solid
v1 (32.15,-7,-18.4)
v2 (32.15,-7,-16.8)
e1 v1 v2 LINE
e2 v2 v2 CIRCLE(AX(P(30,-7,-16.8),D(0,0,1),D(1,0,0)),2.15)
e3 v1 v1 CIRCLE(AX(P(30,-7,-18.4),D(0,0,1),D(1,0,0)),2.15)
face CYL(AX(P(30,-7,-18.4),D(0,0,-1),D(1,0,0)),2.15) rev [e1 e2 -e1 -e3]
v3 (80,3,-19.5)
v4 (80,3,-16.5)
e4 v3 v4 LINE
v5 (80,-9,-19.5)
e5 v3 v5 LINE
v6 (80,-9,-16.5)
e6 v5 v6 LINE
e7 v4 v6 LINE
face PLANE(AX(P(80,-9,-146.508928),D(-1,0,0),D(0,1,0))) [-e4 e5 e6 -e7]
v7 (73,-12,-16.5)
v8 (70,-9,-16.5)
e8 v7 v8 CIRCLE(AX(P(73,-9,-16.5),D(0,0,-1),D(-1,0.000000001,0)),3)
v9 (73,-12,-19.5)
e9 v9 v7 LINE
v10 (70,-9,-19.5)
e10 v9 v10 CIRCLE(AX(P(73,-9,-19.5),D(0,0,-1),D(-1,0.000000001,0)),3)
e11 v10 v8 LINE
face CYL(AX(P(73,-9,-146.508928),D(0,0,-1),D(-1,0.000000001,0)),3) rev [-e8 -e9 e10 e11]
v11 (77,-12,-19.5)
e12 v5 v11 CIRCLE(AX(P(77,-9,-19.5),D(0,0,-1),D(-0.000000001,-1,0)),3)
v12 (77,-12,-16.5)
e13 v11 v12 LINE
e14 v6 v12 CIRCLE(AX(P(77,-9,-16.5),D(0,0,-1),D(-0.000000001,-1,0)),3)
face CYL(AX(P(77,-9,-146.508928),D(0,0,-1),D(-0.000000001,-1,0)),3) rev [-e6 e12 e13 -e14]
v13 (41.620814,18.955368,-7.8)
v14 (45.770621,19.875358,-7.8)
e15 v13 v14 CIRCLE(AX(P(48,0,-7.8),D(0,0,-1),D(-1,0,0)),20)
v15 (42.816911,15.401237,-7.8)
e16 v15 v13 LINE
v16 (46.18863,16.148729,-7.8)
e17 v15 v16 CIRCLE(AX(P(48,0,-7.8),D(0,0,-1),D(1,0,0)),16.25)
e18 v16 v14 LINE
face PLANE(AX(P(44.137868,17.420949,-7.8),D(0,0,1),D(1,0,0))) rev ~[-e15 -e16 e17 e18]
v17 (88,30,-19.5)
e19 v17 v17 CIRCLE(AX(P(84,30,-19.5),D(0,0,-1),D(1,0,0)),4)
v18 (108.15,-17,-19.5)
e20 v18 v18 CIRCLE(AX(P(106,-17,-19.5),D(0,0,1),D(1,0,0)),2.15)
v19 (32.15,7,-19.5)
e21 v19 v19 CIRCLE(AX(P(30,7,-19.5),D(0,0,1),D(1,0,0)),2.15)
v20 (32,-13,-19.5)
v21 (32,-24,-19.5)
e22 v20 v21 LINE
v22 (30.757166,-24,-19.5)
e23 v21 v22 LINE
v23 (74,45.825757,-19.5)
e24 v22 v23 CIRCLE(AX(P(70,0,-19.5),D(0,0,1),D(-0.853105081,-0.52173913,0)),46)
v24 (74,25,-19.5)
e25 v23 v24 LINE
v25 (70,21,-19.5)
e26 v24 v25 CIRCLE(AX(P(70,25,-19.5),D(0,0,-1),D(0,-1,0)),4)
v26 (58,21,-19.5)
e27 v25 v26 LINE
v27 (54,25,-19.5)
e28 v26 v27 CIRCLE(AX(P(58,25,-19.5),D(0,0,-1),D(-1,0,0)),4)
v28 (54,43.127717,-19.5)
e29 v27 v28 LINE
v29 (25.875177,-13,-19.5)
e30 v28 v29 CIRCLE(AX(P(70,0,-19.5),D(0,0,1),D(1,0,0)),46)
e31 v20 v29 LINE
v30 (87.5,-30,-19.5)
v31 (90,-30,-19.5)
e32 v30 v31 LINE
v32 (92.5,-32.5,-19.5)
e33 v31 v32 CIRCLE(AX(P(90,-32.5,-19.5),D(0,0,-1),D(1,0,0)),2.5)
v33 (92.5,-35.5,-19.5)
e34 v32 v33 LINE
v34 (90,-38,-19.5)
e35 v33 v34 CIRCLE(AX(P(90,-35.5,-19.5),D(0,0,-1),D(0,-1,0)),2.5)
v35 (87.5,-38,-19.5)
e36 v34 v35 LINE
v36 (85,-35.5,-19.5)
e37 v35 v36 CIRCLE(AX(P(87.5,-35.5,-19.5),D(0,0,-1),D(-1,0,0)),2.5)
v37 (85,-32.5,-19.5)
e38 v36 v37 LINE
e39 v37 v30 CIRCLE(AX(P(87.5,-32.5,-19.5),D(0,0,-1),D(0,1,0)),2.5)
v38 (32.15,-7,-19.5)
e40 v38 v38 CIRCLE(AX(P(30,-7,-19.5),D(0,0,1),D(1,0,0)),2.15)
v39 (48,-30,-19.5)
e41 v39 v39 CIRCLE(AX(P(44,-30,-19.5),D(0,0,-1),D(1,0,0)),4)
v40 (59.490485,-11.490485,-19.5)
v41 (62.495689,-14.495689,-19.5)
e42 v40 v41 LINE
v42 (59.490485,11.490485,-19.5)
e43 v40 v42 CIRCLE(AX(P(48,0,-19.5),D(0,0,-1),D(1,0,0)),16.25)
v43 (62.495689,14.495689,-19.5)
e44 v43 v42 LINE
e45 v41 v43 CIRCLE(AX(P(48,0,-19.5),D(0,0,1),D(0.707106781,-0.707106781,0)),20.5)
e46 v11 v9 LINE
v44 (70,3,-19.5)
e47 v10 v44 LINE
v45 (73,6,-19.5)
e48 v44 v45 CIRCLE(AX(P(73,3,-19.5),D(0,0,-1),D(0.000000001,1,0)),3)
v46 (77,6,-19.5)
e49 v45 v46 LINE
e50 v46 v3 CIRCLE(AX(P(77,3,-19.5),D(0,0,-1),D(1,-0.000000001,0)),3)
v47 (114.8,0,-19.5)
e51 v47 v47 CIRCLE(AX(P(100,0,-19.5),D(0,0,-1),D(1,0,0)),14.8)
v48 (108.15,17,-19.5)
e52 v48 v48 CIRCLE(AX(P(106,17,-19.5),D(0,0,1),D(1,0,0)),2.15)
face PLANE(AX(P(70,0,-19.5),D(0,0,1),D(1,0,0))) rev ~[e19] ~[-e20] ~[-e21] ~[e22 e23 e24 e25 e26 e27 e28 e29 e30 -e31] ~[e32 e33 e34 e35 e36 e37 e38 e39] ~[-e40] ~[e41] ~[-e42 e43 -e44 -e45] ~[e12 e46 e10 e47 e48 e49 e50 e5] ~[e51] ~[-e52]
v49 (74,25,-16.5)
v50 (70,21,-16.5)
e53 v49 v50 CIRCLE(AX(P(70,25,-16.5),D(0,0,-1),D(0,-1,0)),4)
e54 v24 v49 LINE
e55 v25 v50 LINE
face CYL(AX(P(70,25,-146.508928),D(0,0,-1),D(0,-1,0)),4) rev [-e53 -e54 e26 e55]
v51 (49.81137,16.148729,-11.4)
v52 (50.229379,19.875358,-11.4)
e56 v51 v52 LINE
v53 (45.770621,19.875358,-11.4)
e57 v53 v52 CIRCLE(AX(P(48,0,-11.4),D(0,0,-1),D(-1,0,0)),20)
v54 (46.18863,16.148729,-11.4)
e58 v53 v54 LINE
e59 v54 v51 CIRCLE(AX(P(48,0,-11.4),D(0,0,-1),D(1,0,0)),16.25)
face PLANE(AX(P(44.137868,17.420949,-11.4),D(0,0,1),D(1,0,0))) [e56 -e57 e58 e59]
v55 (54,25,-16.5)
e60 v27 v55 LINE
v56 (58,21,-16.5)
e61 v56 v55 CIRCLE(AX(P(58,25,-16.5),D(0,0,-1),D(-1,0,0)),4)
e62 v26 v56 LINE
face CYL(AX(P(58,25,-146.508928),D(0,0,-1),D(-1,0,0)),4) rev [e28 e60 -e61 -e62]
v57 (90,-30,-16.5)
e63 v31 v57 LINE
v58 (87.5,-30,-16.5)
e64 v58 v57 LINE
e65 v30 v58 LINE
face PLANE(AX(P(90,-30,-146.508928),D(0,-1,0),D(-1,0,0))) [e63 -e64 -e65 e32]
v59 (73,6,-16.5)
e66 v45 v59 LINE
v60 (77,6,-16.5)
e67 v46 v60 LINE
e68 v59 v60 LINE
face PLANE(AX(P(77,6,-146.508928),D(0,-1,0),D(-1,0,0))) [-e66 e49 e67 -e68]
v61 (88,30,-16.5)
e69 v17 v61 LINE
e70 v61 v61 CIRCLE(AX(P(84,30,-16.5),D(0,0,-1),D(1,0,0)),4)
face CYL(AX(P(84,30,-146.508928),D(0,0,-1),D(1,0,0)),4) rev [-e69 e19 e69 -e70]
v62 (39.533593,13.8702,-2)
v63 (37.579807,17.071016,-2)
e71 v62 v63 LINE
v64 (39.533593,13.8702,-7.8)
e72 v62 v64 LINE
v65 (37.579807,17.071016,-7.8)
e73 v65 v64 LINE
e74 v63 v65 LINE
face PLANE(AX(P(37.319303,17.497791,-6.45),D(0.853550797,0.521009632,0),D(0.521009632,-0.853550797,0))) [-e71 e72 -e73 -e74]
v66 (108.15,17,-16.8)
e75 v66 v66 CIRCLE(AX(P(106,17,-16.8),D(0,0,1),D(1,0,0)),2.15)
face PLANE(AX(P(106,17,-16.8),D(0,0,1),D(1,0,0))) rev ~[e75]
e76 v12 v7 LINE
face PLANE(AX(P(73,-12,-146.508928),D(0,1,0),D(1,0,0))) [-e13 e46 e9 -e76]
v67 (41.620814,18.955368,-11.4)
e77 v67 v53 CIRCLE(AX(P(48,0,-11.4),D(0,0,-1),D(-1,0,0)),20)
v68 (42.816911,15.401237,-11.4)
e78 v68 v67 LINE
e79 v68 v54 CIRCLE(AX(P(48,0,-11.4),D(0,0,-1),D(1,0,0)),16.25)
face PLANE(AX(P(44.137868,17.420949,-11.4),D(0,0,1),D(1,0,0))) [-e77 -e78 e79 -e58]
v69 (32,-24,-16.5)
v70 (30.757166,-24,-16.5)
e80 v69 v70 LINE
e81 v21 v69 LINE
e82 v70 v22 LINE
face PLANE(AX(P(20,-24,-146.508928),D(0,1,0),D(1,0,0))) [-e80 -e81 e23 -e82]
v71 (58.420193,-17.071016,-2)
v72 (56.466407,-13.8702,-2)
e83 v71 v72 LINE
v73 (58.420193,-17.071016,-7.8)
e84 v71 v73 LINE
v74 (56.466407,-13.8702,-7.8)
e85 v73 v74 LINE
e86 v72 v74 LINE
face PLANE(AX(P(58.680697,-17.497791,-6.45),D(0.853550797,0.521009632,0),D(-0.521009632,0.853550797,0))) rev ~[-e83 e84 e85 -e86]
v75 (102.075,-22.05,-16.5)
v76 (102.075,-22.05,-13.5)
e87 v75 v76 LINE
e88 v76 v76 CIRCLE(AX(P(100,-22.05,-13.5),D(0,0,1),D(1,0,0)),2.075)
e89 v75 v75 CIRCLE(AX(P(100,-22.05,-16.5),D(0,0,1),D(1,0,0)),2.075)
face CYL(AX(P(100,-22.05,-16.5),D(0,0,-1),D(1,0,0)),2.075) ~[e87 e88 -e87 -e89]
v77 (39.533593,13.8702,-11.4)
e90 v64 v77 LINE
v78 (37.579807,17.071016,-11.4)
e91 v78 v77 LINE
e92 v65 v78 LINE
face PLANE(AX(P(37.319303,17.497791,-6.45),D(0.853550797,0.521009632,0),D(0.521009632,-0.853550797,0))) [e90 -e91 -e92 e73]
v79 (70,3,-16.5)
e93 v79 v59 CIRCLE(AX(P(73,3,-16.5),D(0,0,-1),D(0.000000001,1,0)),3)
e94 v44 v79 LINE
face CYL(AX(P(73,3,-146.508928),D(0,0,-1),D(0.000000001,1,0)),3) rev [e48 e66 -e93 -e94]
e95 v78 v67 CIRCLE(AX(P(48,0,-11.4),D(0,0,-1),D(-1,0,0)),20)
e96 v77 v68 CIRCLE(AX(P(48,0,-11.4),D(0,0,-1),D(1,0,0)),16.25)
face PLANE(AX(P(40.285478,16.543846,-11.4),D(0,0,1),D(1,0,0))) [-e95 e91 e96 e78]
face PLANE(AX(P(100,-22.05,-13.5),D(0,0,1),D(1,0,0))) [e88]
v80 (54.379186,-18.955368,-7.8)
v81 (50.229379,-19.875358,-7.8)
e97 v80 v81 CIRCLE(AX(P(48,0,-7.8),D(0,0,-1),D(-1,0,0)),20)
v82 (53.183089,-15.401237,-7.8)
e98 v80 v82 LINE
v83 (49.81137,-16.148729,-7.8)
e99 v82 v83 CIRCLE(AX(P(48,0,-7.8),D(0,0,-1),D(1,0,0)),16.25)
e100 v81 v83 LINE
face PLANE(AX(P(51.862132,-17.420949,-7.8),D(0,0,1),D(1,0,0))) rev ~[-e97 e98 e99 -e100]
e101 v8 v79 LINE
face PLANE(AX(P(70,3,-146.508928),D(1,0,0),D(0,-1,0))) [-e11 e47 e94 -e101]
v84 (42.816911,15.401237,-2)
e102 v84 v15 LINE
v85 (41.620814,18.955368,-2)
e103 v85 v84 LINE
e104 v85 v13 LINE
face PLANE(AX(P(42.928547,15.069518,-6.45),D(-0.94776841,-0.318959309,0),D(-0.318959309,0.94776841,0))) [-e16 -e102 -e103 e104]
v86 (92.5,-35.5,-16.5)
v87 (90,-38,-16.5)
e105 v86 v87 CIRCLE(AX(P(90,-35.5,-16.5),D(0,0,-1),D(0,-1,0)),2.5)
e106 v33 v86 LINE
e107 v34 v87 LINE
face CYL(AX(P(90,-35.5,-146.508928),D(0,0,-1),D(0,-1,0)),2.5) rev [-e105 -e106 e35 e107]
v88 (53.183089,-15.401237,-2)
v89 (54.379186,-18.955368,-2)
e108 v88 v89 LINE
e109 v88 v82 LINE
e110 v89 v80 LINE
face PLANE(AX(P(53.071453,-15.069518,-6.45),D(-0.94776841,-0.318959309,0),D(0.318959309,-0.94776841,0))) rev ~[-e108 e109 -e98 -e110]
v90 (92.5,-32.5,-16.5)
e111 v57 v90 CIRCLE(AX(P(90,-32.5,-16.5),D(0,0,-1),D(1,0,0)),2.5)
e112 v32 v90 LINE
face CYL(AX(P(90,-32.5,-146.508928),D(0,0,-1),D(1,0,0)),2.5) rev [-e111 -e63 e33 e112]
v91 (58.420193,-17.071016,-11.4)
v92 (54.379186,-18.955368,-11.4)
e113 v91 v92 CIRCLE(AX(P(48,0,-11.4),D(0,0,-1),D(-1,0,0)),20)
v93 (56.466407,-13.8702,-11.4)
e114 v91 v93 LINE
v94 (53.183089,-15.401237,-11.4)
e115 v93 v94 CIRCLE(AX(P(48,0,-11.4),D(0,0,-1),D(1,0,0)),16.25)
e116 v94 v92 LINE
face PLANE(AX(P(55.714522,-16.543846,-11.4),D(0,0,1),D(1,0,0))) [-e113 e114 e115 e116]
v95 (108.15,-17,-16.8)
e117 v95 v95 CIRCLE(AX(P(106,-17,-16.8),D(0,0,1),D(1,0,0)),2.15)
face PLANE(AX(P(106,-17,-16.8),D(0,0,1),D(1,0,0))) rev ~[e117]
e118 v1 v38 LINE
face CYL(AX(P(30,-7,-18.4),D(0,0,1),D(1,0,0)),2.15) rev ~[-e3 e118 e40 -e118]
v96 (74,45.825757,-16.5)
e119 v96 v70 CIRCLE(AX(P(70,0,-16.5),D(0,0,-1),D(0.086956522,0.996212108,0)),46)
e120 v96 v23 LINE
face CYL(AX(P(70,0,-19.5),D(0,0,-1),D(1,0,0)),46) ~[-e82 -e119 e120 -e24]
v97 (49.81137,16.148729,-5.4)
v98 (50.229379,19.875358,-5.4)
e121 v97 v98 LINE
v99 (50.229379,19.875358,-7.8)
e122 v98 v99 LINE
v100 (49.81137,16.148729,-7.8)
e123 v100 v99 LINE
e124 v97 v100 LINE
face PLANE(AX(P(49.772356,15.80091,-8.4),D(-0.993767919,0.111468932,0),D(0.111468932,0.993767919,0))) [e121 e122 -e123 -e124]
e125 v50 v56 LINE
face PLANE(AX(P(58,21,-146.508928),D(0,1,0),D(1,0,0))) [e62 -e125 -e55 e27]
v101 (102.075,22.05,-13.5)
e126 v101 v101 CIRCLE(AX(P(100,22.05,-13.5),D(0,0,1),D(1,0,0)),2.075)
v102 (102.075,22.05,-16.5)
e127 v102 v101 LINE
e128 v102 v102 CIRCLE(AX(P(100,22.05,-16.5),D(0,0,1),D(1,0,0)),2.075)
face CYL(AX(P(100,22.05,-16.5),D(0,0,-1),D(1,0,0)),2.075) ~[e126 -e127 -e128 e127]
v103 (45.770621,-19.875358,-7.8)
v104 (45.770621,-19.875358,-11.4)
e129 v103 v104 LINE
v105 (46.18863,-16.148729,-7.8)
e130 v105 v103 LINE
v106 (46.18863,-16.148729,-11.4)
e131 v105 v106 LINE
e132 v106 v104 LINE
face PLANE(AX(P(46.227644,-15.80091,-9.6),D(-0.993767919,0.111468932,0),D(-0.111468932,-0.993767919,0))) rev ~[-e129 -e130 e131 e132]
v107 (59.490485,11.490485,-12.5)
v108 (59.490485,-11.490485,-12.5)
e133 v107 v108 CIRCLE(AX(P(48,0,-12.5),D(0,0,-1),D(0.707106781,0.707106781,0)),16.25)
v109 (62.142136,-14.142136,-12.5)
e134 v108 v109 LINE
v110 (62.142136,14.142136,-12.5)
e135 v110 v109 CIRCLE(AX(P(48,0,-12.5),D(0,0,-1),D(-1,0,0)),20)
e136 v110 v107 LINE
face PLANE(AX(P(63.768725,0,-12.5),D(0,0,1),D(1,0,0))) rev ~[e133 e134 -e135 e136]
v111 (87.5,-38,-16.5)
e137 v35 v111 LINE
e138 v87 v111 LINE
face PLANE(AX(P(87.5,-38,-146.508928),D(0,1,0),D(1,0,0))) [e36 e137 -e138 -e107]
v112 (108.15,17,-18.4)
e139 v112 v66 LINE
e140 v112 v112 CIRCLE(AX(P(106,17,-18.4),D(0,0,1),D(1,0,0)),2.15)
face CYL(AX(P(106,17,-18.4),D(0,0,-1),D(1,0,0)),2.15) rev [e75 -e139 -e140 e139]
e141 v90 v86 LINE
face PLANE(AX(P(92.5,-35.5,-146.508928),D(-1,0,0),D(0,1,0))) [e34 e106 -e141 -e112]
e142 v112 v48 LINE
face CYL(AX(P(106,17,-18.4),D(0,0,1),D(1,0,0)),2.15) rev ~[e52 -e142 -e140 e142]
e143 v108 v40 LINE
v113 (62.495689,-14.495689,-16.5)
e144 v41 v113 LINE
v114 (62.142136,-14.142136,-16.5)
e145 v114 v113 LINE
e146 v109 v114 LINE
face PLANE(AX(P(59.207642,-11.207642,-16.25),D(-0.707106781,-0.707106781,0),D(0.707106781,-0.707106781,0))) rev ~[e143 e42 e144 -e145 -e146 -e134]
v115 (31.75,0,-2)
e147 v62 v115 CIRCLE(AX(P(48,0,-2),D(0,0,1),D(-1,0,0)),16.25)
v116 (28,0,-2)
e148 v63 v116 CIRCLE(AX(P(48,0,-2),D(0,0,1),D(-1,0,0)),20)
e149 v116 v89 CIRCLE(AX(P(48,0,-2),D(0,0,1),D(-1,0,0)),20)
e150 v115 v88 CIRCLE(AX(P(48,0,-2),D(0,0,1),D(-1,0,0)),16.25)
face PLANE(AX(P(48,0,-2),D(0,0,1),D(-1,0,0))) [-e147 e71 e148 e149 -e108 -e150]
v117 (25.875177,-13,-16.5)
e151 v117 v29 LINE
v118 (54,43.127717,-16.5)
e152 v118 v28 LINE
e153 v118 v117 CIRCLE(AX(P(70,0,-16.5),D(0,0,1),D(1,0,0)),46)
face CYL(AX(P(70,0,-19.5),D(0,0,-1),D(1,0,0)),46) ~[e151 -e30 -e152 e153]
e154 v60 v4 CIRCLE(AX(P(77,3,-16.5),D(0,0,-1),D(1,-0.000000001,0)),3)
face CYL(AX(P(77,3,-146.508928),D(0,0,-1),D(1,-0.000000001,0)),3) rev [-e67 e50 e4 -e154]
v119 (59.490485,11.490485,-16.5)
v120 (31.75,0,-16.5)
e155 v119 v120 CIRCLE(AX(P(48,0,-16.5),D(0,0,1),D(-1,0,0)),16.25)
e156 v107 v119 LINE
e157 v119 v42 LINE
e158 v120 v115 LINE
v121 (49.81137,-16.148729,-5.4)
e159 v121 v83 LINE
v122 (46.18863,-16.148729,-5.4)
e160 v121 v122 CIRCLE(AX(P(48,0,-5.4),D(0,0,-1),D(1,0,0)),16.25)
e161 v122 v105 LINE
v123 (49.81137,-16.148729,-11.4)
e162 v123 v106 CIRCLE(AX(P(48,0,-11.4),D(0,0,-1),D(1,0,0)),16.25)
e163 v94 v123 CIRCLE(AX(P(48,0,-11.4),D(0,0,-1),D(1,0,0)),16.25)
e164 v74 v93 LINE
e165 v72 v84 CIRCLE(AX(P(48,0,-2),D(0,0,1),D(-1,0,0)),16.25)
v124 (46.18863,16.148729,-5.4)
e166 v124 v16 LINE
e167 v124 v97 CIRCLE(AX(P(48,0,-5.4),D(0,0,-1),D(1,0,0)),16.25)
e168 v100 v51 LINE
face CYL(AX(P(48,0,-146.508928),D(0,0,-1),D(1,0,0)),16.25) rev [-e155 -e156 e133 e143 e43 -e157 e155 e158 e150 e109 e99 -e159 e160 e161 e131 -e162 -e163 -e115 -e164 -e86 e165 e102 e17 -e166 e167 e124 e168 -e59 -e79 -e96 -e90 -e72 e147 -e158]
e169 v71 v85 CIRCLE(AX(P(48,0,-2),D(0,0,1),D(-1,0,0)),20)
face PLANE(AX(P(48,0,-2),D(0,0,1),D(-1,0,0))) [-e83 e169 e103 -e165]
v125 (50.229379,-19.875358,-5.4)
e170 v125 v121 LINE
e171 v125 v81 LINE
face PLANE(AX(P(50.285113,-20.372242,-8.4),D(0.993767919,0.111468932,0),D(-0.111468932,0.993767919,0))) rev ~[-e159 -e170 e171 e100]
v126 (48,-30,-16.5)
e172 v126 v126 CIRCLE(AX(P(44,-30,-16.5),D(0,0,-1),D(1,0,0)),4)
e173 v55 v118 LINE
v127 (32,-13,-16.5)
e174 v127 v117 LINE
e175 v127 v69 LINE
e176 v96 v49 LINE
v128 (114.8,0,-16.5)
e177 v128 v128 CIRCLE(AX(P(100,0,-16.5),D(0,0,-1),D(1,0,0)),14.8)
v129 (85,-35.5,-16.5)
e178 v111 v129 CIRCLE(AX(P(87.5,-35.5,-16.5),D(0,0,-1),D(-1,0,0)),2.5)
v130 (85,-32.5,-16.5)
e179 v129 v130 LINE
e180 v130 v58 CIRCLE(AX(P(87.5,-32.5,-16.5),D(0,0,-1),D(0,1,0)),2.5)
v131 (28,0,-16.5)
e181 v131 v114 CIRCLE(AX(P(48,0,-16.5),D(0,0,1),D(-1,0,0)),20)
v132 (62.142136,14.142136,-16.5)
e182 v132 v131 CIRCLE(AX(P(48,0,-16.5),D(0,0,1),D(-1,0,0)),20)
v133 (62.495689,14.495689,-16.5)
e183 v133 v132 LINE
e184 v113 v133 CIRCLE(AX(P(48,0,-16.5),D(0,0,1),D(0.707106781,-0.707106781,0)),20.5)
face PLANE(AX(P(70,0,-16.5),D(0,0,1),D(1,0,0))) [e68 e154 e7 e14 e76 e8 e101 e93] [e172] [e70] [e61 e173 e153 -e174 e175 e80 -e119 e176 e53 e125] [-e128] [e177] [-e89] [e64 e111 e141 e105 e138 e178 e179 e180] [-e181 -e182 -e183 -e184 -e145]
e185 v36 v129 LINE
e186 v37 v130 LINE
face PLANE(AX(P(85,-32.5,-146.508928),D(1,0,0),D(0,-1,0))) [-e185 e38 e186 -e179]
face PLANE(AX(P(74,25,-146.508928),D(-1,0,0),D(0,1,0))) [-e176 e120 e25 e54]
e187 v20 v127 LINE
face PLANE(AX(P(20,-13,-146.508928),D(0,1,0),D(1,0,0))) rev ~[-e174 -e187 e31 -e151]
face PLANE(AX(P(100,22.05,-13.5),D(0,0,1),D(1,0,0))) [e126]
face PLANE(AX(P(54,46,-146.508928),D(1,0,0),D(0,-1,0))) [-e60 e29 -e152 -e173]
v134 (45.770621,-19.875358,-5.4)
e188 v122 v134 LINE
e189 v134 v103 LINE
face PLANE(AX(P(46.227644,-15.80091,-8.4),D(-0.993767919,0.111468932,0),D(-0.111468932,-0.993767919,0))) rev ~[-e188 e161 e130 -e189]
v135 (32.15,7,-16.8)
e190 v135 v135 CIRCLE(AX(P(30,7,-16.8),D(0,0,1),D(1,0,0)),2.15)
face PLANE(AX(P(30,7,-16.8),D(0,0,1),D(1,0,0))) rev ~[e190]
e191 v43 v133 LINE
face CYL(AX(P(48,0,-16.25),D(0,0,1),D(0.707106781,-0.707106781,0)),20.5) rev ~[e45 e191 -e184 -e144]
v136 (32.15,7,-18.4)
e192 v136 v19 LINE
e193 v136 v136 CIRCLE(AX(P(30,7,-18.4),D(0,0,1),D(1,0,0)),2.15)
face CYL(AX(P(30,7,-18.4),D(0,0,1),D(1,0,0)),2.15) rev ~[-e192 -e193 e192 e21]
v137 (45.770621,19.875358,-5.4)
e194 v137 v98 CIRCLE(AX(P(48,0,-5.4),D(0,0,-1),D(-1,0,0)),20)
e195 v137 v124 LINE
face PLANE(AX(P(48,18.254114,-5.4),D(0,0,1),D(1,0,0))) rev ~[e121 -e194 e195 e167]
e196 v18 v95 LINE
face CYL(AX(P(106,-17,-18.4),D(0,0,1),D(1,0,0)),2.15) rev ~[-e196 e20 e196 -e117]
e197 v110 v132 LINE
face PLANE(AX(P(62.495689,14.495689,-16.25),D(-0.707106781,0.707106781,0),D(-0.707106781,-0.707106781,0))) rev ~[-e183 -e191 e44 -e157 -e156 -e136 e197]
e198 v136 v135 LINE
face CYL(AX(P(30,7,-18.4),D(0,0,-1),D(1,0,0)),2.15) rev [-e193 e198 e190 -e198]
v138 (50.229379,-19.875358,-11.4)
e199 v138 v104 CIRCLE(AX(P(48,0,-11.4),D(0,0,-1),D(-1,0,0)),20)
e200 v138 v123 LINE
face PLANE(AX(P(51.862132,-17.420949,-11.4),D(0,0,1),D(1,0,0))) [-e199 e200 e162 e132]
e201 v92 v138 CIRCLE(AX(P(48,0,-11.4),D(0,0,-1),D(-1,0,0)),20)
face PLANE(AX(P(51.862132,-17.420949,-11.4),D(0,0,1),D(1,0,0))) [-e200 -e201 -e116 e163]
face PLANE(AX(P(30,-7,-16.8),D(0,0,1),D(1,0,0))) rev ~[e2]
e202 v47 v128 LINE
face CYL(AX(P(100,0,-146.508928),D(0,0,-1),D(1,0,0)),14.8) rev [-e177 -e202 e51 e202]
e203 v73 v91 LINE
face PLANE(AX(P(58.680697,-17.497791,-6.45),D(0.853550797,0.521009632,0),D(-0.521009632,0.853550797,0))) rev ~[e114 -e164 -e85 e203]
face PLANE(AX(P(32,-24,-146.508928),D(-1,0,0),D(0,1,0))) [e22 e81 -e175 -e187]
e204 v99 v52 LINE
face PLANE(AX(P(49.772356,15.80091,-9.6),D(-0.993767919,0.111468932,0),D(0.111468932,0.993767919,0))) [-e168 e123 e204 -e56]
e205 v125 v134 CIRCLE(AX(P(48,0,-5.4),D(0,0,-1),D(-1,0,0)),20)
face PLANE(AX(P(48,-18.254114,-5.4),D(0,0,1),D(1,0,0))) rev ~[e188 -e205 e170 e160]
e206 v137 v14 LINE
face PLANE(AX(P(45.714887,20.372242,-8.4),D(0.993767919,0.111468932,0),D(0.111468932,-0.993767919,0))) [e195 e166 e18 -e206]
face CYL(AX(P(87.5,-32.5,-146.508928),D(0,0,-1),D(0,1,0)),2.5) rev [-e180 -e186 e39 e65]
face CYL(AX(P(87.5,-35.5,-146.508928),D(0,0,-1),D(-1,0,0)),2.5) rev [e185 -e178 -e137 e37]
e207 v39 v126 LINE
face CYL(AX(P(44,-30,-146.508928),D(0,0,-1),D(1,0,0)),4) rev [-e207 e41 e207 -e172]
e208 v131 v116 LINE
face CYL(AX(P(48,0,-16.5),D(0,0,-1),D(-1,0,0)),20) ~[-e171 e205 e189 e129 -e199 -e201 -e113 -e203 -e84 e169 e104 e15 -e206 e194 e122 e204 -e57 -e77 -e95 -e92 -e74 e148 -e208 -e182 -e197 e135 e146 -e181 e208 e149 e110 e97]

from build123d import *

# Parameters (mm, degrees)
SKETCH1_R                                           = 46
CAGE_PLATE_DEPTH                                    = 3
SKETCH2_R                                           = 20
SKETCH2_R_2                                         = 16.25
BAYONET_SOCKET_DEPTH                                = 14.5
SKETCH3_R                                           = 2.075
TURBIDITY_EAR_PINS_DEPTH                            = 3
HUB_BORE_AND_TURBIDITY_BORE_DEPTH                   = 127.008928255
HUB_BORE_AND_TURBIDITY_BORE_DEPTH_BACK              = 127.008928255
SKETCH4_R                                           = 16.25
SKETCH4_R_2                                         = 14.8
TDS_NOTCH_DS_HOLE_FLOW_WINDOW_HOSE_NOTCH_DEPTH      = 127.008928255
TDS_NOTCH_DS_HOLE_FLOW_WINDOW_HOSE_NOTCH_DEPTH_BACK = 127.008928255
SKETCH5_R                                           = 4
SKETCH5_W                                           = 12
SKETCH5_H                                           = 11
SKETCH6_R                                           = 2.15
POST_PIN_SOCKETS_BLIND_DEPTH                        = 1.6
HUB_CABLE_WINDOW_DEPTH                              = 3.75
J_ENTRY_SLOTS_DEPTH                                 = 4.95
J_TWIST_CHANNELS_DEPTH                              = 1.8
J_LOCK_NOTCHES_DEPTH                                = 3


with BuildPart() as part:
    # Sketch1 → Cage_plate (new body)
    with BuildSketch(Plane.XY.offset(-19.5)):
        with Locations((70, 0)):
            Circle(SKETCH1_R)
    extrude(amount=CAGE_PLATE_DEPTH)

    # Sketch2 → Bayonet_socket (add)
    with BuildSketch(Plane.XY.offset(-16.5)):
        with Locations(Location((48, 0, 0), (0, 0, 180))):
            Circle(SKETCH2_R)
        with Locations(Location((48, 0, 0), (0, 0, 180))):
            Circle(SKETCH2_R_2, mode=Mode.SUBTRACT)
    extrude(amount=BAYONET_SOCKET_DEPTH)

    # Sketch3 → Turbidity_ear_pins (add)
    with BuildSketch(Plane.XY.offset(-16.5)):
        with Locations((100, 22.05)):
            Circle(SKETCH3_R)
        with Locations((100, -22.05)):
            Circle(SKETCH3_R)
    extrude(amount=TURBIDITY_EAR_PINS_DEPTH)

    # Sketch4 → Hub_bore_and_turbidity_bore (cut, two sides: drawn at the far end of the back side and taken through both)
    with BuildSketch(Plane.XY.offset(-19.5).offset(-HUB_BORE_AND_TURBIDITY_BORE_DEPTH_BACK)):
        with Locations((48, 0)):
            Circle(SKETCH4_R)
        with Locations((100, 0)):
            Circle(SKETCH4_R_2)
    extrude(amount=HUB_BORE_AND_TURBIDITY_BORE_DEPTH + HUB_BORE_AND_TURBIDITY_BORE_DEPTH_BACK, mode=Mode.SUBTRACT)

    # Sketch5 → TDS_notch_DS_hole_flow_window_hose_notch (cut, two sides: drawn at the far end of the back side and taken through both)
    with BuildSketch(Plane.XY.offset(-19.5).offset(-TDS_NOTCH_DS_HOLE_FLOW_WINDOW_HOSE_NOTCH_DEPTH_BACK)):
        with Locations((84, 30)):
            Circle(SKETCH5_R)
        with Locations((44, -30)):
            Circle(SKETCH5_R)
        with BuildLine():
            Line((58, 21), (70, 21))
            ThreePointArc((70, 21), (72.828427125, 22.171572875), (74, 25))
            Line((74, 25), (74, 46))
            ThreePointArc((74, 46), (72.828427125, 48.828427125), (70, 50))
            Line((70, 50), (58, 50))
            ThreePointArc((58, 50), (55.171572875, 48.828427125), (54, 46))
            Line((54, 46), (54, 25))
            ThreePointArc((54, 25), (55.171572875, 22.171572875), (58, 21))
        make_face()
        with BuildLine():
            Line((87.5, -38), (90, -38))
            ThreePointArc((90, -38), (91.767766953, -37.267766953), (92.5, -35.5))
            Line((92.5, -35.5), (92.5, -32.5))
            ThreePointArc((92.5, -32.5), (91.767766953, -30.732233047), (90, -30))
            Line((90, -30), (87.5, -30))
            ThreePointArc((87.5, -30), (85.732233047, -30.732233047), (85, -32.5))
            Line((85, -32.5), (85, -35.5))
            ThreePointArc((85, -35.5), (85.732233047, -37.267766953), (87.5, -38))
        make_face()
        with BuildLine():
            Line((73, -12), (77, -12))
            ThreePointArc((77, -12), (79.121320344, -11.121320344), (80, -9))
            Line((80, -9), (80, 3))
            ThreePointArc((80, 3), (79.121320344, 5.121320344), (77, 6))
            Line((77, 6), (73, 6))
            ThreePointArc((73, 6), (70.878679656, 5.121320344), (70, 3))
            Line((70, 3), (70, -9))
            ThreePointArc((70, -9), (70.878679656, -11.121320344), (73, -12))
        make_face()
        with Locations((26, -18.5)):
            Rectangle(SKETCH5_W, SKETCH5_H)
    extrude(amount=TDS_NOTCH_DS_HOLE_FLOW_WINDOW_HOSE_NOTCH_DEPTH + TDS_NOTCH_DS_HOLE_FLOW_WINDOW_HOSE_NOTCH_DEPTH_BACK, mode=Mode.SUBTRACT)

    # Sketch6 → Post_pin_sockets_blind (cut, symmetric)
    with BuildSketch(Plane.XY.offset(-18.4)):
        with Locations((30, 7)):
            Circle(SKETCH6_R)
        with Locations((30, -7)):
            Circle(SKETCH6_R)
        with Locations((106, 17)):
            Circle(SKETCH6_R)
        with Locations((106, -17)):
            Circle(SKETCH6_R)
    extrude(amount=POST_PIN_SOCKETS_BLIND_DEPTH, both=True, mode=Mode.SUBTRACT)

    # Sketch7 → Hub_cable_window (cut, symmetric)
    with BuildSketch(Plane.XY.offset(-16.25)):
        with BuildLine():
            Line((59.207642482, -11.207642482), (62.495689014, -14.495689014))
            ThreePointArc((62.495689014, -14.495689014), (68.5, 0), (62.495689014, 14.495689014))
            Line((62.495689014, 14.495689014), (59.207642482, 11.207642482))
            ThreePointArc((59.207642482, 11.207642482), (63.85, 0), (59.207642482, -11.207642482))
        make_face()
    extrude(amount=HUB_CABLE_WINDOW_DEPTH, both=True, mode=Mode.SUBTRACT)

    # Sketch8 → J_entry_slots (cut, symmetric)
    with BuildSketch(Plane.XY.offset(-6.45)):
        with BuildLine():
            Line((42.928546982, 15.069517719), (41.461334159, 19.429252405))
            ThreePointArc((41.461334159, 19.429252405), (39.336325634, 18.579309634), (37.319302547, 17.497791344))
            Line((37.319302547, 17.497791344), (39.715946854, 13.571457677))
            ThreePointArc((39.715946854, 13.571457677), (41.280369638, 14.410293814), (42.928546982, 15.069517719))
        make_face()
        with BuildLine():
            Line((53.071453018, -15.069517719), (54.538665841, -19.429252405))
            ThreePointArc((54.538665841, -19.429252405), (56.663674366, -18.579309634), (58.680697453, -17.497791344))
            Line((58.680697453, -17.497791344), (56.284053146, -13.571457677))
            ThreePointArc((56.284053146, -13.571457677), (54.719630362, -14.410293814), (53.071453018, -15.069517719))
        make_face()
    extrude(amount=J_ENTRY_SLOTS_DEPTH, both=True, mode=Mode.SUBTRACT)

    # Sketch9 → J_twist_channels (cut, symmetric)
    with BuildSketch(Plane.XY.offset(-9.6)):
        with BuildLine():
            Line((49.772356022, 15.800909915), (50.28511311, 20.372242343))
            ThreePointArc((50.28511311, 20.372242343), (43.562987914, 20.014068146), (37.319302547, 17.497791344))
            Line((37.319302547, 17.497791344), (39.715946854, 13.571457677))
            ThreePointArc((39.715946854, 13.571457677), (44.558610138, 15.523106513), (49.772356022, 15.800909915))
        make_face()
        with BuildLine():
            Line((46.227643978, -15.800909915), (45.71488689, -20.372242343))
            ThreePointArc((45.71488689, -20.372242343), (52.437012086, -20.014068146), (58.680697453, -17.497791344))
            Line((58.680697453, -17.497791344), (56.284053146, -13.571457677))
            ThreePointArc((56.284053146, -13.571457677), (51.441389862, -15.523106513), (46.227643978, -15.800909915))
        make_face()
    extrude(amount=J_TWIST_CHANNELS_DEPTH, both=True, mode=Mode.SUBTRACT)

    # Sketch10 → J_lock_notches (cut, symmetric)
    with BuildSketch(Plane.XY.offset(-8.4)):
        with BuildLine():
            Line((49.772356022, 15.800909915), (50.28511311, 20.372242343))
            ThreePointArc((50.28511311, 20.372242343), (48, 20.5), (45.71488689, 20.372242343))
            Line((45.71488689, 20.372242343), (46.227643978, 15.800909915))
            ThreePointArc((46.227643978, 15.800909915), (48, 15.9), (49.772356022, 15.800909915))
        make_face()
        with BuildLine():
            Line((46.227643978, -15.800909915), (45.71488689, -20.372242343))
            ThreePointArc((45.71488689, -20.372242343), (48, -20.5), (50.28511311, -20.372242343))
            Line((50.28511311, -20.372242343), (49.772356022, -15.800909915))
            ThreePointArc((49.772356022, -15.800909915), (48, -15.9), (46.227643978, -15.800909915))
        make_face()
    extrude(amount=J_LOCK_NOTCHES_DEPTH, both=True, mode=Mode.SUBTRACT)


solid = part.part
